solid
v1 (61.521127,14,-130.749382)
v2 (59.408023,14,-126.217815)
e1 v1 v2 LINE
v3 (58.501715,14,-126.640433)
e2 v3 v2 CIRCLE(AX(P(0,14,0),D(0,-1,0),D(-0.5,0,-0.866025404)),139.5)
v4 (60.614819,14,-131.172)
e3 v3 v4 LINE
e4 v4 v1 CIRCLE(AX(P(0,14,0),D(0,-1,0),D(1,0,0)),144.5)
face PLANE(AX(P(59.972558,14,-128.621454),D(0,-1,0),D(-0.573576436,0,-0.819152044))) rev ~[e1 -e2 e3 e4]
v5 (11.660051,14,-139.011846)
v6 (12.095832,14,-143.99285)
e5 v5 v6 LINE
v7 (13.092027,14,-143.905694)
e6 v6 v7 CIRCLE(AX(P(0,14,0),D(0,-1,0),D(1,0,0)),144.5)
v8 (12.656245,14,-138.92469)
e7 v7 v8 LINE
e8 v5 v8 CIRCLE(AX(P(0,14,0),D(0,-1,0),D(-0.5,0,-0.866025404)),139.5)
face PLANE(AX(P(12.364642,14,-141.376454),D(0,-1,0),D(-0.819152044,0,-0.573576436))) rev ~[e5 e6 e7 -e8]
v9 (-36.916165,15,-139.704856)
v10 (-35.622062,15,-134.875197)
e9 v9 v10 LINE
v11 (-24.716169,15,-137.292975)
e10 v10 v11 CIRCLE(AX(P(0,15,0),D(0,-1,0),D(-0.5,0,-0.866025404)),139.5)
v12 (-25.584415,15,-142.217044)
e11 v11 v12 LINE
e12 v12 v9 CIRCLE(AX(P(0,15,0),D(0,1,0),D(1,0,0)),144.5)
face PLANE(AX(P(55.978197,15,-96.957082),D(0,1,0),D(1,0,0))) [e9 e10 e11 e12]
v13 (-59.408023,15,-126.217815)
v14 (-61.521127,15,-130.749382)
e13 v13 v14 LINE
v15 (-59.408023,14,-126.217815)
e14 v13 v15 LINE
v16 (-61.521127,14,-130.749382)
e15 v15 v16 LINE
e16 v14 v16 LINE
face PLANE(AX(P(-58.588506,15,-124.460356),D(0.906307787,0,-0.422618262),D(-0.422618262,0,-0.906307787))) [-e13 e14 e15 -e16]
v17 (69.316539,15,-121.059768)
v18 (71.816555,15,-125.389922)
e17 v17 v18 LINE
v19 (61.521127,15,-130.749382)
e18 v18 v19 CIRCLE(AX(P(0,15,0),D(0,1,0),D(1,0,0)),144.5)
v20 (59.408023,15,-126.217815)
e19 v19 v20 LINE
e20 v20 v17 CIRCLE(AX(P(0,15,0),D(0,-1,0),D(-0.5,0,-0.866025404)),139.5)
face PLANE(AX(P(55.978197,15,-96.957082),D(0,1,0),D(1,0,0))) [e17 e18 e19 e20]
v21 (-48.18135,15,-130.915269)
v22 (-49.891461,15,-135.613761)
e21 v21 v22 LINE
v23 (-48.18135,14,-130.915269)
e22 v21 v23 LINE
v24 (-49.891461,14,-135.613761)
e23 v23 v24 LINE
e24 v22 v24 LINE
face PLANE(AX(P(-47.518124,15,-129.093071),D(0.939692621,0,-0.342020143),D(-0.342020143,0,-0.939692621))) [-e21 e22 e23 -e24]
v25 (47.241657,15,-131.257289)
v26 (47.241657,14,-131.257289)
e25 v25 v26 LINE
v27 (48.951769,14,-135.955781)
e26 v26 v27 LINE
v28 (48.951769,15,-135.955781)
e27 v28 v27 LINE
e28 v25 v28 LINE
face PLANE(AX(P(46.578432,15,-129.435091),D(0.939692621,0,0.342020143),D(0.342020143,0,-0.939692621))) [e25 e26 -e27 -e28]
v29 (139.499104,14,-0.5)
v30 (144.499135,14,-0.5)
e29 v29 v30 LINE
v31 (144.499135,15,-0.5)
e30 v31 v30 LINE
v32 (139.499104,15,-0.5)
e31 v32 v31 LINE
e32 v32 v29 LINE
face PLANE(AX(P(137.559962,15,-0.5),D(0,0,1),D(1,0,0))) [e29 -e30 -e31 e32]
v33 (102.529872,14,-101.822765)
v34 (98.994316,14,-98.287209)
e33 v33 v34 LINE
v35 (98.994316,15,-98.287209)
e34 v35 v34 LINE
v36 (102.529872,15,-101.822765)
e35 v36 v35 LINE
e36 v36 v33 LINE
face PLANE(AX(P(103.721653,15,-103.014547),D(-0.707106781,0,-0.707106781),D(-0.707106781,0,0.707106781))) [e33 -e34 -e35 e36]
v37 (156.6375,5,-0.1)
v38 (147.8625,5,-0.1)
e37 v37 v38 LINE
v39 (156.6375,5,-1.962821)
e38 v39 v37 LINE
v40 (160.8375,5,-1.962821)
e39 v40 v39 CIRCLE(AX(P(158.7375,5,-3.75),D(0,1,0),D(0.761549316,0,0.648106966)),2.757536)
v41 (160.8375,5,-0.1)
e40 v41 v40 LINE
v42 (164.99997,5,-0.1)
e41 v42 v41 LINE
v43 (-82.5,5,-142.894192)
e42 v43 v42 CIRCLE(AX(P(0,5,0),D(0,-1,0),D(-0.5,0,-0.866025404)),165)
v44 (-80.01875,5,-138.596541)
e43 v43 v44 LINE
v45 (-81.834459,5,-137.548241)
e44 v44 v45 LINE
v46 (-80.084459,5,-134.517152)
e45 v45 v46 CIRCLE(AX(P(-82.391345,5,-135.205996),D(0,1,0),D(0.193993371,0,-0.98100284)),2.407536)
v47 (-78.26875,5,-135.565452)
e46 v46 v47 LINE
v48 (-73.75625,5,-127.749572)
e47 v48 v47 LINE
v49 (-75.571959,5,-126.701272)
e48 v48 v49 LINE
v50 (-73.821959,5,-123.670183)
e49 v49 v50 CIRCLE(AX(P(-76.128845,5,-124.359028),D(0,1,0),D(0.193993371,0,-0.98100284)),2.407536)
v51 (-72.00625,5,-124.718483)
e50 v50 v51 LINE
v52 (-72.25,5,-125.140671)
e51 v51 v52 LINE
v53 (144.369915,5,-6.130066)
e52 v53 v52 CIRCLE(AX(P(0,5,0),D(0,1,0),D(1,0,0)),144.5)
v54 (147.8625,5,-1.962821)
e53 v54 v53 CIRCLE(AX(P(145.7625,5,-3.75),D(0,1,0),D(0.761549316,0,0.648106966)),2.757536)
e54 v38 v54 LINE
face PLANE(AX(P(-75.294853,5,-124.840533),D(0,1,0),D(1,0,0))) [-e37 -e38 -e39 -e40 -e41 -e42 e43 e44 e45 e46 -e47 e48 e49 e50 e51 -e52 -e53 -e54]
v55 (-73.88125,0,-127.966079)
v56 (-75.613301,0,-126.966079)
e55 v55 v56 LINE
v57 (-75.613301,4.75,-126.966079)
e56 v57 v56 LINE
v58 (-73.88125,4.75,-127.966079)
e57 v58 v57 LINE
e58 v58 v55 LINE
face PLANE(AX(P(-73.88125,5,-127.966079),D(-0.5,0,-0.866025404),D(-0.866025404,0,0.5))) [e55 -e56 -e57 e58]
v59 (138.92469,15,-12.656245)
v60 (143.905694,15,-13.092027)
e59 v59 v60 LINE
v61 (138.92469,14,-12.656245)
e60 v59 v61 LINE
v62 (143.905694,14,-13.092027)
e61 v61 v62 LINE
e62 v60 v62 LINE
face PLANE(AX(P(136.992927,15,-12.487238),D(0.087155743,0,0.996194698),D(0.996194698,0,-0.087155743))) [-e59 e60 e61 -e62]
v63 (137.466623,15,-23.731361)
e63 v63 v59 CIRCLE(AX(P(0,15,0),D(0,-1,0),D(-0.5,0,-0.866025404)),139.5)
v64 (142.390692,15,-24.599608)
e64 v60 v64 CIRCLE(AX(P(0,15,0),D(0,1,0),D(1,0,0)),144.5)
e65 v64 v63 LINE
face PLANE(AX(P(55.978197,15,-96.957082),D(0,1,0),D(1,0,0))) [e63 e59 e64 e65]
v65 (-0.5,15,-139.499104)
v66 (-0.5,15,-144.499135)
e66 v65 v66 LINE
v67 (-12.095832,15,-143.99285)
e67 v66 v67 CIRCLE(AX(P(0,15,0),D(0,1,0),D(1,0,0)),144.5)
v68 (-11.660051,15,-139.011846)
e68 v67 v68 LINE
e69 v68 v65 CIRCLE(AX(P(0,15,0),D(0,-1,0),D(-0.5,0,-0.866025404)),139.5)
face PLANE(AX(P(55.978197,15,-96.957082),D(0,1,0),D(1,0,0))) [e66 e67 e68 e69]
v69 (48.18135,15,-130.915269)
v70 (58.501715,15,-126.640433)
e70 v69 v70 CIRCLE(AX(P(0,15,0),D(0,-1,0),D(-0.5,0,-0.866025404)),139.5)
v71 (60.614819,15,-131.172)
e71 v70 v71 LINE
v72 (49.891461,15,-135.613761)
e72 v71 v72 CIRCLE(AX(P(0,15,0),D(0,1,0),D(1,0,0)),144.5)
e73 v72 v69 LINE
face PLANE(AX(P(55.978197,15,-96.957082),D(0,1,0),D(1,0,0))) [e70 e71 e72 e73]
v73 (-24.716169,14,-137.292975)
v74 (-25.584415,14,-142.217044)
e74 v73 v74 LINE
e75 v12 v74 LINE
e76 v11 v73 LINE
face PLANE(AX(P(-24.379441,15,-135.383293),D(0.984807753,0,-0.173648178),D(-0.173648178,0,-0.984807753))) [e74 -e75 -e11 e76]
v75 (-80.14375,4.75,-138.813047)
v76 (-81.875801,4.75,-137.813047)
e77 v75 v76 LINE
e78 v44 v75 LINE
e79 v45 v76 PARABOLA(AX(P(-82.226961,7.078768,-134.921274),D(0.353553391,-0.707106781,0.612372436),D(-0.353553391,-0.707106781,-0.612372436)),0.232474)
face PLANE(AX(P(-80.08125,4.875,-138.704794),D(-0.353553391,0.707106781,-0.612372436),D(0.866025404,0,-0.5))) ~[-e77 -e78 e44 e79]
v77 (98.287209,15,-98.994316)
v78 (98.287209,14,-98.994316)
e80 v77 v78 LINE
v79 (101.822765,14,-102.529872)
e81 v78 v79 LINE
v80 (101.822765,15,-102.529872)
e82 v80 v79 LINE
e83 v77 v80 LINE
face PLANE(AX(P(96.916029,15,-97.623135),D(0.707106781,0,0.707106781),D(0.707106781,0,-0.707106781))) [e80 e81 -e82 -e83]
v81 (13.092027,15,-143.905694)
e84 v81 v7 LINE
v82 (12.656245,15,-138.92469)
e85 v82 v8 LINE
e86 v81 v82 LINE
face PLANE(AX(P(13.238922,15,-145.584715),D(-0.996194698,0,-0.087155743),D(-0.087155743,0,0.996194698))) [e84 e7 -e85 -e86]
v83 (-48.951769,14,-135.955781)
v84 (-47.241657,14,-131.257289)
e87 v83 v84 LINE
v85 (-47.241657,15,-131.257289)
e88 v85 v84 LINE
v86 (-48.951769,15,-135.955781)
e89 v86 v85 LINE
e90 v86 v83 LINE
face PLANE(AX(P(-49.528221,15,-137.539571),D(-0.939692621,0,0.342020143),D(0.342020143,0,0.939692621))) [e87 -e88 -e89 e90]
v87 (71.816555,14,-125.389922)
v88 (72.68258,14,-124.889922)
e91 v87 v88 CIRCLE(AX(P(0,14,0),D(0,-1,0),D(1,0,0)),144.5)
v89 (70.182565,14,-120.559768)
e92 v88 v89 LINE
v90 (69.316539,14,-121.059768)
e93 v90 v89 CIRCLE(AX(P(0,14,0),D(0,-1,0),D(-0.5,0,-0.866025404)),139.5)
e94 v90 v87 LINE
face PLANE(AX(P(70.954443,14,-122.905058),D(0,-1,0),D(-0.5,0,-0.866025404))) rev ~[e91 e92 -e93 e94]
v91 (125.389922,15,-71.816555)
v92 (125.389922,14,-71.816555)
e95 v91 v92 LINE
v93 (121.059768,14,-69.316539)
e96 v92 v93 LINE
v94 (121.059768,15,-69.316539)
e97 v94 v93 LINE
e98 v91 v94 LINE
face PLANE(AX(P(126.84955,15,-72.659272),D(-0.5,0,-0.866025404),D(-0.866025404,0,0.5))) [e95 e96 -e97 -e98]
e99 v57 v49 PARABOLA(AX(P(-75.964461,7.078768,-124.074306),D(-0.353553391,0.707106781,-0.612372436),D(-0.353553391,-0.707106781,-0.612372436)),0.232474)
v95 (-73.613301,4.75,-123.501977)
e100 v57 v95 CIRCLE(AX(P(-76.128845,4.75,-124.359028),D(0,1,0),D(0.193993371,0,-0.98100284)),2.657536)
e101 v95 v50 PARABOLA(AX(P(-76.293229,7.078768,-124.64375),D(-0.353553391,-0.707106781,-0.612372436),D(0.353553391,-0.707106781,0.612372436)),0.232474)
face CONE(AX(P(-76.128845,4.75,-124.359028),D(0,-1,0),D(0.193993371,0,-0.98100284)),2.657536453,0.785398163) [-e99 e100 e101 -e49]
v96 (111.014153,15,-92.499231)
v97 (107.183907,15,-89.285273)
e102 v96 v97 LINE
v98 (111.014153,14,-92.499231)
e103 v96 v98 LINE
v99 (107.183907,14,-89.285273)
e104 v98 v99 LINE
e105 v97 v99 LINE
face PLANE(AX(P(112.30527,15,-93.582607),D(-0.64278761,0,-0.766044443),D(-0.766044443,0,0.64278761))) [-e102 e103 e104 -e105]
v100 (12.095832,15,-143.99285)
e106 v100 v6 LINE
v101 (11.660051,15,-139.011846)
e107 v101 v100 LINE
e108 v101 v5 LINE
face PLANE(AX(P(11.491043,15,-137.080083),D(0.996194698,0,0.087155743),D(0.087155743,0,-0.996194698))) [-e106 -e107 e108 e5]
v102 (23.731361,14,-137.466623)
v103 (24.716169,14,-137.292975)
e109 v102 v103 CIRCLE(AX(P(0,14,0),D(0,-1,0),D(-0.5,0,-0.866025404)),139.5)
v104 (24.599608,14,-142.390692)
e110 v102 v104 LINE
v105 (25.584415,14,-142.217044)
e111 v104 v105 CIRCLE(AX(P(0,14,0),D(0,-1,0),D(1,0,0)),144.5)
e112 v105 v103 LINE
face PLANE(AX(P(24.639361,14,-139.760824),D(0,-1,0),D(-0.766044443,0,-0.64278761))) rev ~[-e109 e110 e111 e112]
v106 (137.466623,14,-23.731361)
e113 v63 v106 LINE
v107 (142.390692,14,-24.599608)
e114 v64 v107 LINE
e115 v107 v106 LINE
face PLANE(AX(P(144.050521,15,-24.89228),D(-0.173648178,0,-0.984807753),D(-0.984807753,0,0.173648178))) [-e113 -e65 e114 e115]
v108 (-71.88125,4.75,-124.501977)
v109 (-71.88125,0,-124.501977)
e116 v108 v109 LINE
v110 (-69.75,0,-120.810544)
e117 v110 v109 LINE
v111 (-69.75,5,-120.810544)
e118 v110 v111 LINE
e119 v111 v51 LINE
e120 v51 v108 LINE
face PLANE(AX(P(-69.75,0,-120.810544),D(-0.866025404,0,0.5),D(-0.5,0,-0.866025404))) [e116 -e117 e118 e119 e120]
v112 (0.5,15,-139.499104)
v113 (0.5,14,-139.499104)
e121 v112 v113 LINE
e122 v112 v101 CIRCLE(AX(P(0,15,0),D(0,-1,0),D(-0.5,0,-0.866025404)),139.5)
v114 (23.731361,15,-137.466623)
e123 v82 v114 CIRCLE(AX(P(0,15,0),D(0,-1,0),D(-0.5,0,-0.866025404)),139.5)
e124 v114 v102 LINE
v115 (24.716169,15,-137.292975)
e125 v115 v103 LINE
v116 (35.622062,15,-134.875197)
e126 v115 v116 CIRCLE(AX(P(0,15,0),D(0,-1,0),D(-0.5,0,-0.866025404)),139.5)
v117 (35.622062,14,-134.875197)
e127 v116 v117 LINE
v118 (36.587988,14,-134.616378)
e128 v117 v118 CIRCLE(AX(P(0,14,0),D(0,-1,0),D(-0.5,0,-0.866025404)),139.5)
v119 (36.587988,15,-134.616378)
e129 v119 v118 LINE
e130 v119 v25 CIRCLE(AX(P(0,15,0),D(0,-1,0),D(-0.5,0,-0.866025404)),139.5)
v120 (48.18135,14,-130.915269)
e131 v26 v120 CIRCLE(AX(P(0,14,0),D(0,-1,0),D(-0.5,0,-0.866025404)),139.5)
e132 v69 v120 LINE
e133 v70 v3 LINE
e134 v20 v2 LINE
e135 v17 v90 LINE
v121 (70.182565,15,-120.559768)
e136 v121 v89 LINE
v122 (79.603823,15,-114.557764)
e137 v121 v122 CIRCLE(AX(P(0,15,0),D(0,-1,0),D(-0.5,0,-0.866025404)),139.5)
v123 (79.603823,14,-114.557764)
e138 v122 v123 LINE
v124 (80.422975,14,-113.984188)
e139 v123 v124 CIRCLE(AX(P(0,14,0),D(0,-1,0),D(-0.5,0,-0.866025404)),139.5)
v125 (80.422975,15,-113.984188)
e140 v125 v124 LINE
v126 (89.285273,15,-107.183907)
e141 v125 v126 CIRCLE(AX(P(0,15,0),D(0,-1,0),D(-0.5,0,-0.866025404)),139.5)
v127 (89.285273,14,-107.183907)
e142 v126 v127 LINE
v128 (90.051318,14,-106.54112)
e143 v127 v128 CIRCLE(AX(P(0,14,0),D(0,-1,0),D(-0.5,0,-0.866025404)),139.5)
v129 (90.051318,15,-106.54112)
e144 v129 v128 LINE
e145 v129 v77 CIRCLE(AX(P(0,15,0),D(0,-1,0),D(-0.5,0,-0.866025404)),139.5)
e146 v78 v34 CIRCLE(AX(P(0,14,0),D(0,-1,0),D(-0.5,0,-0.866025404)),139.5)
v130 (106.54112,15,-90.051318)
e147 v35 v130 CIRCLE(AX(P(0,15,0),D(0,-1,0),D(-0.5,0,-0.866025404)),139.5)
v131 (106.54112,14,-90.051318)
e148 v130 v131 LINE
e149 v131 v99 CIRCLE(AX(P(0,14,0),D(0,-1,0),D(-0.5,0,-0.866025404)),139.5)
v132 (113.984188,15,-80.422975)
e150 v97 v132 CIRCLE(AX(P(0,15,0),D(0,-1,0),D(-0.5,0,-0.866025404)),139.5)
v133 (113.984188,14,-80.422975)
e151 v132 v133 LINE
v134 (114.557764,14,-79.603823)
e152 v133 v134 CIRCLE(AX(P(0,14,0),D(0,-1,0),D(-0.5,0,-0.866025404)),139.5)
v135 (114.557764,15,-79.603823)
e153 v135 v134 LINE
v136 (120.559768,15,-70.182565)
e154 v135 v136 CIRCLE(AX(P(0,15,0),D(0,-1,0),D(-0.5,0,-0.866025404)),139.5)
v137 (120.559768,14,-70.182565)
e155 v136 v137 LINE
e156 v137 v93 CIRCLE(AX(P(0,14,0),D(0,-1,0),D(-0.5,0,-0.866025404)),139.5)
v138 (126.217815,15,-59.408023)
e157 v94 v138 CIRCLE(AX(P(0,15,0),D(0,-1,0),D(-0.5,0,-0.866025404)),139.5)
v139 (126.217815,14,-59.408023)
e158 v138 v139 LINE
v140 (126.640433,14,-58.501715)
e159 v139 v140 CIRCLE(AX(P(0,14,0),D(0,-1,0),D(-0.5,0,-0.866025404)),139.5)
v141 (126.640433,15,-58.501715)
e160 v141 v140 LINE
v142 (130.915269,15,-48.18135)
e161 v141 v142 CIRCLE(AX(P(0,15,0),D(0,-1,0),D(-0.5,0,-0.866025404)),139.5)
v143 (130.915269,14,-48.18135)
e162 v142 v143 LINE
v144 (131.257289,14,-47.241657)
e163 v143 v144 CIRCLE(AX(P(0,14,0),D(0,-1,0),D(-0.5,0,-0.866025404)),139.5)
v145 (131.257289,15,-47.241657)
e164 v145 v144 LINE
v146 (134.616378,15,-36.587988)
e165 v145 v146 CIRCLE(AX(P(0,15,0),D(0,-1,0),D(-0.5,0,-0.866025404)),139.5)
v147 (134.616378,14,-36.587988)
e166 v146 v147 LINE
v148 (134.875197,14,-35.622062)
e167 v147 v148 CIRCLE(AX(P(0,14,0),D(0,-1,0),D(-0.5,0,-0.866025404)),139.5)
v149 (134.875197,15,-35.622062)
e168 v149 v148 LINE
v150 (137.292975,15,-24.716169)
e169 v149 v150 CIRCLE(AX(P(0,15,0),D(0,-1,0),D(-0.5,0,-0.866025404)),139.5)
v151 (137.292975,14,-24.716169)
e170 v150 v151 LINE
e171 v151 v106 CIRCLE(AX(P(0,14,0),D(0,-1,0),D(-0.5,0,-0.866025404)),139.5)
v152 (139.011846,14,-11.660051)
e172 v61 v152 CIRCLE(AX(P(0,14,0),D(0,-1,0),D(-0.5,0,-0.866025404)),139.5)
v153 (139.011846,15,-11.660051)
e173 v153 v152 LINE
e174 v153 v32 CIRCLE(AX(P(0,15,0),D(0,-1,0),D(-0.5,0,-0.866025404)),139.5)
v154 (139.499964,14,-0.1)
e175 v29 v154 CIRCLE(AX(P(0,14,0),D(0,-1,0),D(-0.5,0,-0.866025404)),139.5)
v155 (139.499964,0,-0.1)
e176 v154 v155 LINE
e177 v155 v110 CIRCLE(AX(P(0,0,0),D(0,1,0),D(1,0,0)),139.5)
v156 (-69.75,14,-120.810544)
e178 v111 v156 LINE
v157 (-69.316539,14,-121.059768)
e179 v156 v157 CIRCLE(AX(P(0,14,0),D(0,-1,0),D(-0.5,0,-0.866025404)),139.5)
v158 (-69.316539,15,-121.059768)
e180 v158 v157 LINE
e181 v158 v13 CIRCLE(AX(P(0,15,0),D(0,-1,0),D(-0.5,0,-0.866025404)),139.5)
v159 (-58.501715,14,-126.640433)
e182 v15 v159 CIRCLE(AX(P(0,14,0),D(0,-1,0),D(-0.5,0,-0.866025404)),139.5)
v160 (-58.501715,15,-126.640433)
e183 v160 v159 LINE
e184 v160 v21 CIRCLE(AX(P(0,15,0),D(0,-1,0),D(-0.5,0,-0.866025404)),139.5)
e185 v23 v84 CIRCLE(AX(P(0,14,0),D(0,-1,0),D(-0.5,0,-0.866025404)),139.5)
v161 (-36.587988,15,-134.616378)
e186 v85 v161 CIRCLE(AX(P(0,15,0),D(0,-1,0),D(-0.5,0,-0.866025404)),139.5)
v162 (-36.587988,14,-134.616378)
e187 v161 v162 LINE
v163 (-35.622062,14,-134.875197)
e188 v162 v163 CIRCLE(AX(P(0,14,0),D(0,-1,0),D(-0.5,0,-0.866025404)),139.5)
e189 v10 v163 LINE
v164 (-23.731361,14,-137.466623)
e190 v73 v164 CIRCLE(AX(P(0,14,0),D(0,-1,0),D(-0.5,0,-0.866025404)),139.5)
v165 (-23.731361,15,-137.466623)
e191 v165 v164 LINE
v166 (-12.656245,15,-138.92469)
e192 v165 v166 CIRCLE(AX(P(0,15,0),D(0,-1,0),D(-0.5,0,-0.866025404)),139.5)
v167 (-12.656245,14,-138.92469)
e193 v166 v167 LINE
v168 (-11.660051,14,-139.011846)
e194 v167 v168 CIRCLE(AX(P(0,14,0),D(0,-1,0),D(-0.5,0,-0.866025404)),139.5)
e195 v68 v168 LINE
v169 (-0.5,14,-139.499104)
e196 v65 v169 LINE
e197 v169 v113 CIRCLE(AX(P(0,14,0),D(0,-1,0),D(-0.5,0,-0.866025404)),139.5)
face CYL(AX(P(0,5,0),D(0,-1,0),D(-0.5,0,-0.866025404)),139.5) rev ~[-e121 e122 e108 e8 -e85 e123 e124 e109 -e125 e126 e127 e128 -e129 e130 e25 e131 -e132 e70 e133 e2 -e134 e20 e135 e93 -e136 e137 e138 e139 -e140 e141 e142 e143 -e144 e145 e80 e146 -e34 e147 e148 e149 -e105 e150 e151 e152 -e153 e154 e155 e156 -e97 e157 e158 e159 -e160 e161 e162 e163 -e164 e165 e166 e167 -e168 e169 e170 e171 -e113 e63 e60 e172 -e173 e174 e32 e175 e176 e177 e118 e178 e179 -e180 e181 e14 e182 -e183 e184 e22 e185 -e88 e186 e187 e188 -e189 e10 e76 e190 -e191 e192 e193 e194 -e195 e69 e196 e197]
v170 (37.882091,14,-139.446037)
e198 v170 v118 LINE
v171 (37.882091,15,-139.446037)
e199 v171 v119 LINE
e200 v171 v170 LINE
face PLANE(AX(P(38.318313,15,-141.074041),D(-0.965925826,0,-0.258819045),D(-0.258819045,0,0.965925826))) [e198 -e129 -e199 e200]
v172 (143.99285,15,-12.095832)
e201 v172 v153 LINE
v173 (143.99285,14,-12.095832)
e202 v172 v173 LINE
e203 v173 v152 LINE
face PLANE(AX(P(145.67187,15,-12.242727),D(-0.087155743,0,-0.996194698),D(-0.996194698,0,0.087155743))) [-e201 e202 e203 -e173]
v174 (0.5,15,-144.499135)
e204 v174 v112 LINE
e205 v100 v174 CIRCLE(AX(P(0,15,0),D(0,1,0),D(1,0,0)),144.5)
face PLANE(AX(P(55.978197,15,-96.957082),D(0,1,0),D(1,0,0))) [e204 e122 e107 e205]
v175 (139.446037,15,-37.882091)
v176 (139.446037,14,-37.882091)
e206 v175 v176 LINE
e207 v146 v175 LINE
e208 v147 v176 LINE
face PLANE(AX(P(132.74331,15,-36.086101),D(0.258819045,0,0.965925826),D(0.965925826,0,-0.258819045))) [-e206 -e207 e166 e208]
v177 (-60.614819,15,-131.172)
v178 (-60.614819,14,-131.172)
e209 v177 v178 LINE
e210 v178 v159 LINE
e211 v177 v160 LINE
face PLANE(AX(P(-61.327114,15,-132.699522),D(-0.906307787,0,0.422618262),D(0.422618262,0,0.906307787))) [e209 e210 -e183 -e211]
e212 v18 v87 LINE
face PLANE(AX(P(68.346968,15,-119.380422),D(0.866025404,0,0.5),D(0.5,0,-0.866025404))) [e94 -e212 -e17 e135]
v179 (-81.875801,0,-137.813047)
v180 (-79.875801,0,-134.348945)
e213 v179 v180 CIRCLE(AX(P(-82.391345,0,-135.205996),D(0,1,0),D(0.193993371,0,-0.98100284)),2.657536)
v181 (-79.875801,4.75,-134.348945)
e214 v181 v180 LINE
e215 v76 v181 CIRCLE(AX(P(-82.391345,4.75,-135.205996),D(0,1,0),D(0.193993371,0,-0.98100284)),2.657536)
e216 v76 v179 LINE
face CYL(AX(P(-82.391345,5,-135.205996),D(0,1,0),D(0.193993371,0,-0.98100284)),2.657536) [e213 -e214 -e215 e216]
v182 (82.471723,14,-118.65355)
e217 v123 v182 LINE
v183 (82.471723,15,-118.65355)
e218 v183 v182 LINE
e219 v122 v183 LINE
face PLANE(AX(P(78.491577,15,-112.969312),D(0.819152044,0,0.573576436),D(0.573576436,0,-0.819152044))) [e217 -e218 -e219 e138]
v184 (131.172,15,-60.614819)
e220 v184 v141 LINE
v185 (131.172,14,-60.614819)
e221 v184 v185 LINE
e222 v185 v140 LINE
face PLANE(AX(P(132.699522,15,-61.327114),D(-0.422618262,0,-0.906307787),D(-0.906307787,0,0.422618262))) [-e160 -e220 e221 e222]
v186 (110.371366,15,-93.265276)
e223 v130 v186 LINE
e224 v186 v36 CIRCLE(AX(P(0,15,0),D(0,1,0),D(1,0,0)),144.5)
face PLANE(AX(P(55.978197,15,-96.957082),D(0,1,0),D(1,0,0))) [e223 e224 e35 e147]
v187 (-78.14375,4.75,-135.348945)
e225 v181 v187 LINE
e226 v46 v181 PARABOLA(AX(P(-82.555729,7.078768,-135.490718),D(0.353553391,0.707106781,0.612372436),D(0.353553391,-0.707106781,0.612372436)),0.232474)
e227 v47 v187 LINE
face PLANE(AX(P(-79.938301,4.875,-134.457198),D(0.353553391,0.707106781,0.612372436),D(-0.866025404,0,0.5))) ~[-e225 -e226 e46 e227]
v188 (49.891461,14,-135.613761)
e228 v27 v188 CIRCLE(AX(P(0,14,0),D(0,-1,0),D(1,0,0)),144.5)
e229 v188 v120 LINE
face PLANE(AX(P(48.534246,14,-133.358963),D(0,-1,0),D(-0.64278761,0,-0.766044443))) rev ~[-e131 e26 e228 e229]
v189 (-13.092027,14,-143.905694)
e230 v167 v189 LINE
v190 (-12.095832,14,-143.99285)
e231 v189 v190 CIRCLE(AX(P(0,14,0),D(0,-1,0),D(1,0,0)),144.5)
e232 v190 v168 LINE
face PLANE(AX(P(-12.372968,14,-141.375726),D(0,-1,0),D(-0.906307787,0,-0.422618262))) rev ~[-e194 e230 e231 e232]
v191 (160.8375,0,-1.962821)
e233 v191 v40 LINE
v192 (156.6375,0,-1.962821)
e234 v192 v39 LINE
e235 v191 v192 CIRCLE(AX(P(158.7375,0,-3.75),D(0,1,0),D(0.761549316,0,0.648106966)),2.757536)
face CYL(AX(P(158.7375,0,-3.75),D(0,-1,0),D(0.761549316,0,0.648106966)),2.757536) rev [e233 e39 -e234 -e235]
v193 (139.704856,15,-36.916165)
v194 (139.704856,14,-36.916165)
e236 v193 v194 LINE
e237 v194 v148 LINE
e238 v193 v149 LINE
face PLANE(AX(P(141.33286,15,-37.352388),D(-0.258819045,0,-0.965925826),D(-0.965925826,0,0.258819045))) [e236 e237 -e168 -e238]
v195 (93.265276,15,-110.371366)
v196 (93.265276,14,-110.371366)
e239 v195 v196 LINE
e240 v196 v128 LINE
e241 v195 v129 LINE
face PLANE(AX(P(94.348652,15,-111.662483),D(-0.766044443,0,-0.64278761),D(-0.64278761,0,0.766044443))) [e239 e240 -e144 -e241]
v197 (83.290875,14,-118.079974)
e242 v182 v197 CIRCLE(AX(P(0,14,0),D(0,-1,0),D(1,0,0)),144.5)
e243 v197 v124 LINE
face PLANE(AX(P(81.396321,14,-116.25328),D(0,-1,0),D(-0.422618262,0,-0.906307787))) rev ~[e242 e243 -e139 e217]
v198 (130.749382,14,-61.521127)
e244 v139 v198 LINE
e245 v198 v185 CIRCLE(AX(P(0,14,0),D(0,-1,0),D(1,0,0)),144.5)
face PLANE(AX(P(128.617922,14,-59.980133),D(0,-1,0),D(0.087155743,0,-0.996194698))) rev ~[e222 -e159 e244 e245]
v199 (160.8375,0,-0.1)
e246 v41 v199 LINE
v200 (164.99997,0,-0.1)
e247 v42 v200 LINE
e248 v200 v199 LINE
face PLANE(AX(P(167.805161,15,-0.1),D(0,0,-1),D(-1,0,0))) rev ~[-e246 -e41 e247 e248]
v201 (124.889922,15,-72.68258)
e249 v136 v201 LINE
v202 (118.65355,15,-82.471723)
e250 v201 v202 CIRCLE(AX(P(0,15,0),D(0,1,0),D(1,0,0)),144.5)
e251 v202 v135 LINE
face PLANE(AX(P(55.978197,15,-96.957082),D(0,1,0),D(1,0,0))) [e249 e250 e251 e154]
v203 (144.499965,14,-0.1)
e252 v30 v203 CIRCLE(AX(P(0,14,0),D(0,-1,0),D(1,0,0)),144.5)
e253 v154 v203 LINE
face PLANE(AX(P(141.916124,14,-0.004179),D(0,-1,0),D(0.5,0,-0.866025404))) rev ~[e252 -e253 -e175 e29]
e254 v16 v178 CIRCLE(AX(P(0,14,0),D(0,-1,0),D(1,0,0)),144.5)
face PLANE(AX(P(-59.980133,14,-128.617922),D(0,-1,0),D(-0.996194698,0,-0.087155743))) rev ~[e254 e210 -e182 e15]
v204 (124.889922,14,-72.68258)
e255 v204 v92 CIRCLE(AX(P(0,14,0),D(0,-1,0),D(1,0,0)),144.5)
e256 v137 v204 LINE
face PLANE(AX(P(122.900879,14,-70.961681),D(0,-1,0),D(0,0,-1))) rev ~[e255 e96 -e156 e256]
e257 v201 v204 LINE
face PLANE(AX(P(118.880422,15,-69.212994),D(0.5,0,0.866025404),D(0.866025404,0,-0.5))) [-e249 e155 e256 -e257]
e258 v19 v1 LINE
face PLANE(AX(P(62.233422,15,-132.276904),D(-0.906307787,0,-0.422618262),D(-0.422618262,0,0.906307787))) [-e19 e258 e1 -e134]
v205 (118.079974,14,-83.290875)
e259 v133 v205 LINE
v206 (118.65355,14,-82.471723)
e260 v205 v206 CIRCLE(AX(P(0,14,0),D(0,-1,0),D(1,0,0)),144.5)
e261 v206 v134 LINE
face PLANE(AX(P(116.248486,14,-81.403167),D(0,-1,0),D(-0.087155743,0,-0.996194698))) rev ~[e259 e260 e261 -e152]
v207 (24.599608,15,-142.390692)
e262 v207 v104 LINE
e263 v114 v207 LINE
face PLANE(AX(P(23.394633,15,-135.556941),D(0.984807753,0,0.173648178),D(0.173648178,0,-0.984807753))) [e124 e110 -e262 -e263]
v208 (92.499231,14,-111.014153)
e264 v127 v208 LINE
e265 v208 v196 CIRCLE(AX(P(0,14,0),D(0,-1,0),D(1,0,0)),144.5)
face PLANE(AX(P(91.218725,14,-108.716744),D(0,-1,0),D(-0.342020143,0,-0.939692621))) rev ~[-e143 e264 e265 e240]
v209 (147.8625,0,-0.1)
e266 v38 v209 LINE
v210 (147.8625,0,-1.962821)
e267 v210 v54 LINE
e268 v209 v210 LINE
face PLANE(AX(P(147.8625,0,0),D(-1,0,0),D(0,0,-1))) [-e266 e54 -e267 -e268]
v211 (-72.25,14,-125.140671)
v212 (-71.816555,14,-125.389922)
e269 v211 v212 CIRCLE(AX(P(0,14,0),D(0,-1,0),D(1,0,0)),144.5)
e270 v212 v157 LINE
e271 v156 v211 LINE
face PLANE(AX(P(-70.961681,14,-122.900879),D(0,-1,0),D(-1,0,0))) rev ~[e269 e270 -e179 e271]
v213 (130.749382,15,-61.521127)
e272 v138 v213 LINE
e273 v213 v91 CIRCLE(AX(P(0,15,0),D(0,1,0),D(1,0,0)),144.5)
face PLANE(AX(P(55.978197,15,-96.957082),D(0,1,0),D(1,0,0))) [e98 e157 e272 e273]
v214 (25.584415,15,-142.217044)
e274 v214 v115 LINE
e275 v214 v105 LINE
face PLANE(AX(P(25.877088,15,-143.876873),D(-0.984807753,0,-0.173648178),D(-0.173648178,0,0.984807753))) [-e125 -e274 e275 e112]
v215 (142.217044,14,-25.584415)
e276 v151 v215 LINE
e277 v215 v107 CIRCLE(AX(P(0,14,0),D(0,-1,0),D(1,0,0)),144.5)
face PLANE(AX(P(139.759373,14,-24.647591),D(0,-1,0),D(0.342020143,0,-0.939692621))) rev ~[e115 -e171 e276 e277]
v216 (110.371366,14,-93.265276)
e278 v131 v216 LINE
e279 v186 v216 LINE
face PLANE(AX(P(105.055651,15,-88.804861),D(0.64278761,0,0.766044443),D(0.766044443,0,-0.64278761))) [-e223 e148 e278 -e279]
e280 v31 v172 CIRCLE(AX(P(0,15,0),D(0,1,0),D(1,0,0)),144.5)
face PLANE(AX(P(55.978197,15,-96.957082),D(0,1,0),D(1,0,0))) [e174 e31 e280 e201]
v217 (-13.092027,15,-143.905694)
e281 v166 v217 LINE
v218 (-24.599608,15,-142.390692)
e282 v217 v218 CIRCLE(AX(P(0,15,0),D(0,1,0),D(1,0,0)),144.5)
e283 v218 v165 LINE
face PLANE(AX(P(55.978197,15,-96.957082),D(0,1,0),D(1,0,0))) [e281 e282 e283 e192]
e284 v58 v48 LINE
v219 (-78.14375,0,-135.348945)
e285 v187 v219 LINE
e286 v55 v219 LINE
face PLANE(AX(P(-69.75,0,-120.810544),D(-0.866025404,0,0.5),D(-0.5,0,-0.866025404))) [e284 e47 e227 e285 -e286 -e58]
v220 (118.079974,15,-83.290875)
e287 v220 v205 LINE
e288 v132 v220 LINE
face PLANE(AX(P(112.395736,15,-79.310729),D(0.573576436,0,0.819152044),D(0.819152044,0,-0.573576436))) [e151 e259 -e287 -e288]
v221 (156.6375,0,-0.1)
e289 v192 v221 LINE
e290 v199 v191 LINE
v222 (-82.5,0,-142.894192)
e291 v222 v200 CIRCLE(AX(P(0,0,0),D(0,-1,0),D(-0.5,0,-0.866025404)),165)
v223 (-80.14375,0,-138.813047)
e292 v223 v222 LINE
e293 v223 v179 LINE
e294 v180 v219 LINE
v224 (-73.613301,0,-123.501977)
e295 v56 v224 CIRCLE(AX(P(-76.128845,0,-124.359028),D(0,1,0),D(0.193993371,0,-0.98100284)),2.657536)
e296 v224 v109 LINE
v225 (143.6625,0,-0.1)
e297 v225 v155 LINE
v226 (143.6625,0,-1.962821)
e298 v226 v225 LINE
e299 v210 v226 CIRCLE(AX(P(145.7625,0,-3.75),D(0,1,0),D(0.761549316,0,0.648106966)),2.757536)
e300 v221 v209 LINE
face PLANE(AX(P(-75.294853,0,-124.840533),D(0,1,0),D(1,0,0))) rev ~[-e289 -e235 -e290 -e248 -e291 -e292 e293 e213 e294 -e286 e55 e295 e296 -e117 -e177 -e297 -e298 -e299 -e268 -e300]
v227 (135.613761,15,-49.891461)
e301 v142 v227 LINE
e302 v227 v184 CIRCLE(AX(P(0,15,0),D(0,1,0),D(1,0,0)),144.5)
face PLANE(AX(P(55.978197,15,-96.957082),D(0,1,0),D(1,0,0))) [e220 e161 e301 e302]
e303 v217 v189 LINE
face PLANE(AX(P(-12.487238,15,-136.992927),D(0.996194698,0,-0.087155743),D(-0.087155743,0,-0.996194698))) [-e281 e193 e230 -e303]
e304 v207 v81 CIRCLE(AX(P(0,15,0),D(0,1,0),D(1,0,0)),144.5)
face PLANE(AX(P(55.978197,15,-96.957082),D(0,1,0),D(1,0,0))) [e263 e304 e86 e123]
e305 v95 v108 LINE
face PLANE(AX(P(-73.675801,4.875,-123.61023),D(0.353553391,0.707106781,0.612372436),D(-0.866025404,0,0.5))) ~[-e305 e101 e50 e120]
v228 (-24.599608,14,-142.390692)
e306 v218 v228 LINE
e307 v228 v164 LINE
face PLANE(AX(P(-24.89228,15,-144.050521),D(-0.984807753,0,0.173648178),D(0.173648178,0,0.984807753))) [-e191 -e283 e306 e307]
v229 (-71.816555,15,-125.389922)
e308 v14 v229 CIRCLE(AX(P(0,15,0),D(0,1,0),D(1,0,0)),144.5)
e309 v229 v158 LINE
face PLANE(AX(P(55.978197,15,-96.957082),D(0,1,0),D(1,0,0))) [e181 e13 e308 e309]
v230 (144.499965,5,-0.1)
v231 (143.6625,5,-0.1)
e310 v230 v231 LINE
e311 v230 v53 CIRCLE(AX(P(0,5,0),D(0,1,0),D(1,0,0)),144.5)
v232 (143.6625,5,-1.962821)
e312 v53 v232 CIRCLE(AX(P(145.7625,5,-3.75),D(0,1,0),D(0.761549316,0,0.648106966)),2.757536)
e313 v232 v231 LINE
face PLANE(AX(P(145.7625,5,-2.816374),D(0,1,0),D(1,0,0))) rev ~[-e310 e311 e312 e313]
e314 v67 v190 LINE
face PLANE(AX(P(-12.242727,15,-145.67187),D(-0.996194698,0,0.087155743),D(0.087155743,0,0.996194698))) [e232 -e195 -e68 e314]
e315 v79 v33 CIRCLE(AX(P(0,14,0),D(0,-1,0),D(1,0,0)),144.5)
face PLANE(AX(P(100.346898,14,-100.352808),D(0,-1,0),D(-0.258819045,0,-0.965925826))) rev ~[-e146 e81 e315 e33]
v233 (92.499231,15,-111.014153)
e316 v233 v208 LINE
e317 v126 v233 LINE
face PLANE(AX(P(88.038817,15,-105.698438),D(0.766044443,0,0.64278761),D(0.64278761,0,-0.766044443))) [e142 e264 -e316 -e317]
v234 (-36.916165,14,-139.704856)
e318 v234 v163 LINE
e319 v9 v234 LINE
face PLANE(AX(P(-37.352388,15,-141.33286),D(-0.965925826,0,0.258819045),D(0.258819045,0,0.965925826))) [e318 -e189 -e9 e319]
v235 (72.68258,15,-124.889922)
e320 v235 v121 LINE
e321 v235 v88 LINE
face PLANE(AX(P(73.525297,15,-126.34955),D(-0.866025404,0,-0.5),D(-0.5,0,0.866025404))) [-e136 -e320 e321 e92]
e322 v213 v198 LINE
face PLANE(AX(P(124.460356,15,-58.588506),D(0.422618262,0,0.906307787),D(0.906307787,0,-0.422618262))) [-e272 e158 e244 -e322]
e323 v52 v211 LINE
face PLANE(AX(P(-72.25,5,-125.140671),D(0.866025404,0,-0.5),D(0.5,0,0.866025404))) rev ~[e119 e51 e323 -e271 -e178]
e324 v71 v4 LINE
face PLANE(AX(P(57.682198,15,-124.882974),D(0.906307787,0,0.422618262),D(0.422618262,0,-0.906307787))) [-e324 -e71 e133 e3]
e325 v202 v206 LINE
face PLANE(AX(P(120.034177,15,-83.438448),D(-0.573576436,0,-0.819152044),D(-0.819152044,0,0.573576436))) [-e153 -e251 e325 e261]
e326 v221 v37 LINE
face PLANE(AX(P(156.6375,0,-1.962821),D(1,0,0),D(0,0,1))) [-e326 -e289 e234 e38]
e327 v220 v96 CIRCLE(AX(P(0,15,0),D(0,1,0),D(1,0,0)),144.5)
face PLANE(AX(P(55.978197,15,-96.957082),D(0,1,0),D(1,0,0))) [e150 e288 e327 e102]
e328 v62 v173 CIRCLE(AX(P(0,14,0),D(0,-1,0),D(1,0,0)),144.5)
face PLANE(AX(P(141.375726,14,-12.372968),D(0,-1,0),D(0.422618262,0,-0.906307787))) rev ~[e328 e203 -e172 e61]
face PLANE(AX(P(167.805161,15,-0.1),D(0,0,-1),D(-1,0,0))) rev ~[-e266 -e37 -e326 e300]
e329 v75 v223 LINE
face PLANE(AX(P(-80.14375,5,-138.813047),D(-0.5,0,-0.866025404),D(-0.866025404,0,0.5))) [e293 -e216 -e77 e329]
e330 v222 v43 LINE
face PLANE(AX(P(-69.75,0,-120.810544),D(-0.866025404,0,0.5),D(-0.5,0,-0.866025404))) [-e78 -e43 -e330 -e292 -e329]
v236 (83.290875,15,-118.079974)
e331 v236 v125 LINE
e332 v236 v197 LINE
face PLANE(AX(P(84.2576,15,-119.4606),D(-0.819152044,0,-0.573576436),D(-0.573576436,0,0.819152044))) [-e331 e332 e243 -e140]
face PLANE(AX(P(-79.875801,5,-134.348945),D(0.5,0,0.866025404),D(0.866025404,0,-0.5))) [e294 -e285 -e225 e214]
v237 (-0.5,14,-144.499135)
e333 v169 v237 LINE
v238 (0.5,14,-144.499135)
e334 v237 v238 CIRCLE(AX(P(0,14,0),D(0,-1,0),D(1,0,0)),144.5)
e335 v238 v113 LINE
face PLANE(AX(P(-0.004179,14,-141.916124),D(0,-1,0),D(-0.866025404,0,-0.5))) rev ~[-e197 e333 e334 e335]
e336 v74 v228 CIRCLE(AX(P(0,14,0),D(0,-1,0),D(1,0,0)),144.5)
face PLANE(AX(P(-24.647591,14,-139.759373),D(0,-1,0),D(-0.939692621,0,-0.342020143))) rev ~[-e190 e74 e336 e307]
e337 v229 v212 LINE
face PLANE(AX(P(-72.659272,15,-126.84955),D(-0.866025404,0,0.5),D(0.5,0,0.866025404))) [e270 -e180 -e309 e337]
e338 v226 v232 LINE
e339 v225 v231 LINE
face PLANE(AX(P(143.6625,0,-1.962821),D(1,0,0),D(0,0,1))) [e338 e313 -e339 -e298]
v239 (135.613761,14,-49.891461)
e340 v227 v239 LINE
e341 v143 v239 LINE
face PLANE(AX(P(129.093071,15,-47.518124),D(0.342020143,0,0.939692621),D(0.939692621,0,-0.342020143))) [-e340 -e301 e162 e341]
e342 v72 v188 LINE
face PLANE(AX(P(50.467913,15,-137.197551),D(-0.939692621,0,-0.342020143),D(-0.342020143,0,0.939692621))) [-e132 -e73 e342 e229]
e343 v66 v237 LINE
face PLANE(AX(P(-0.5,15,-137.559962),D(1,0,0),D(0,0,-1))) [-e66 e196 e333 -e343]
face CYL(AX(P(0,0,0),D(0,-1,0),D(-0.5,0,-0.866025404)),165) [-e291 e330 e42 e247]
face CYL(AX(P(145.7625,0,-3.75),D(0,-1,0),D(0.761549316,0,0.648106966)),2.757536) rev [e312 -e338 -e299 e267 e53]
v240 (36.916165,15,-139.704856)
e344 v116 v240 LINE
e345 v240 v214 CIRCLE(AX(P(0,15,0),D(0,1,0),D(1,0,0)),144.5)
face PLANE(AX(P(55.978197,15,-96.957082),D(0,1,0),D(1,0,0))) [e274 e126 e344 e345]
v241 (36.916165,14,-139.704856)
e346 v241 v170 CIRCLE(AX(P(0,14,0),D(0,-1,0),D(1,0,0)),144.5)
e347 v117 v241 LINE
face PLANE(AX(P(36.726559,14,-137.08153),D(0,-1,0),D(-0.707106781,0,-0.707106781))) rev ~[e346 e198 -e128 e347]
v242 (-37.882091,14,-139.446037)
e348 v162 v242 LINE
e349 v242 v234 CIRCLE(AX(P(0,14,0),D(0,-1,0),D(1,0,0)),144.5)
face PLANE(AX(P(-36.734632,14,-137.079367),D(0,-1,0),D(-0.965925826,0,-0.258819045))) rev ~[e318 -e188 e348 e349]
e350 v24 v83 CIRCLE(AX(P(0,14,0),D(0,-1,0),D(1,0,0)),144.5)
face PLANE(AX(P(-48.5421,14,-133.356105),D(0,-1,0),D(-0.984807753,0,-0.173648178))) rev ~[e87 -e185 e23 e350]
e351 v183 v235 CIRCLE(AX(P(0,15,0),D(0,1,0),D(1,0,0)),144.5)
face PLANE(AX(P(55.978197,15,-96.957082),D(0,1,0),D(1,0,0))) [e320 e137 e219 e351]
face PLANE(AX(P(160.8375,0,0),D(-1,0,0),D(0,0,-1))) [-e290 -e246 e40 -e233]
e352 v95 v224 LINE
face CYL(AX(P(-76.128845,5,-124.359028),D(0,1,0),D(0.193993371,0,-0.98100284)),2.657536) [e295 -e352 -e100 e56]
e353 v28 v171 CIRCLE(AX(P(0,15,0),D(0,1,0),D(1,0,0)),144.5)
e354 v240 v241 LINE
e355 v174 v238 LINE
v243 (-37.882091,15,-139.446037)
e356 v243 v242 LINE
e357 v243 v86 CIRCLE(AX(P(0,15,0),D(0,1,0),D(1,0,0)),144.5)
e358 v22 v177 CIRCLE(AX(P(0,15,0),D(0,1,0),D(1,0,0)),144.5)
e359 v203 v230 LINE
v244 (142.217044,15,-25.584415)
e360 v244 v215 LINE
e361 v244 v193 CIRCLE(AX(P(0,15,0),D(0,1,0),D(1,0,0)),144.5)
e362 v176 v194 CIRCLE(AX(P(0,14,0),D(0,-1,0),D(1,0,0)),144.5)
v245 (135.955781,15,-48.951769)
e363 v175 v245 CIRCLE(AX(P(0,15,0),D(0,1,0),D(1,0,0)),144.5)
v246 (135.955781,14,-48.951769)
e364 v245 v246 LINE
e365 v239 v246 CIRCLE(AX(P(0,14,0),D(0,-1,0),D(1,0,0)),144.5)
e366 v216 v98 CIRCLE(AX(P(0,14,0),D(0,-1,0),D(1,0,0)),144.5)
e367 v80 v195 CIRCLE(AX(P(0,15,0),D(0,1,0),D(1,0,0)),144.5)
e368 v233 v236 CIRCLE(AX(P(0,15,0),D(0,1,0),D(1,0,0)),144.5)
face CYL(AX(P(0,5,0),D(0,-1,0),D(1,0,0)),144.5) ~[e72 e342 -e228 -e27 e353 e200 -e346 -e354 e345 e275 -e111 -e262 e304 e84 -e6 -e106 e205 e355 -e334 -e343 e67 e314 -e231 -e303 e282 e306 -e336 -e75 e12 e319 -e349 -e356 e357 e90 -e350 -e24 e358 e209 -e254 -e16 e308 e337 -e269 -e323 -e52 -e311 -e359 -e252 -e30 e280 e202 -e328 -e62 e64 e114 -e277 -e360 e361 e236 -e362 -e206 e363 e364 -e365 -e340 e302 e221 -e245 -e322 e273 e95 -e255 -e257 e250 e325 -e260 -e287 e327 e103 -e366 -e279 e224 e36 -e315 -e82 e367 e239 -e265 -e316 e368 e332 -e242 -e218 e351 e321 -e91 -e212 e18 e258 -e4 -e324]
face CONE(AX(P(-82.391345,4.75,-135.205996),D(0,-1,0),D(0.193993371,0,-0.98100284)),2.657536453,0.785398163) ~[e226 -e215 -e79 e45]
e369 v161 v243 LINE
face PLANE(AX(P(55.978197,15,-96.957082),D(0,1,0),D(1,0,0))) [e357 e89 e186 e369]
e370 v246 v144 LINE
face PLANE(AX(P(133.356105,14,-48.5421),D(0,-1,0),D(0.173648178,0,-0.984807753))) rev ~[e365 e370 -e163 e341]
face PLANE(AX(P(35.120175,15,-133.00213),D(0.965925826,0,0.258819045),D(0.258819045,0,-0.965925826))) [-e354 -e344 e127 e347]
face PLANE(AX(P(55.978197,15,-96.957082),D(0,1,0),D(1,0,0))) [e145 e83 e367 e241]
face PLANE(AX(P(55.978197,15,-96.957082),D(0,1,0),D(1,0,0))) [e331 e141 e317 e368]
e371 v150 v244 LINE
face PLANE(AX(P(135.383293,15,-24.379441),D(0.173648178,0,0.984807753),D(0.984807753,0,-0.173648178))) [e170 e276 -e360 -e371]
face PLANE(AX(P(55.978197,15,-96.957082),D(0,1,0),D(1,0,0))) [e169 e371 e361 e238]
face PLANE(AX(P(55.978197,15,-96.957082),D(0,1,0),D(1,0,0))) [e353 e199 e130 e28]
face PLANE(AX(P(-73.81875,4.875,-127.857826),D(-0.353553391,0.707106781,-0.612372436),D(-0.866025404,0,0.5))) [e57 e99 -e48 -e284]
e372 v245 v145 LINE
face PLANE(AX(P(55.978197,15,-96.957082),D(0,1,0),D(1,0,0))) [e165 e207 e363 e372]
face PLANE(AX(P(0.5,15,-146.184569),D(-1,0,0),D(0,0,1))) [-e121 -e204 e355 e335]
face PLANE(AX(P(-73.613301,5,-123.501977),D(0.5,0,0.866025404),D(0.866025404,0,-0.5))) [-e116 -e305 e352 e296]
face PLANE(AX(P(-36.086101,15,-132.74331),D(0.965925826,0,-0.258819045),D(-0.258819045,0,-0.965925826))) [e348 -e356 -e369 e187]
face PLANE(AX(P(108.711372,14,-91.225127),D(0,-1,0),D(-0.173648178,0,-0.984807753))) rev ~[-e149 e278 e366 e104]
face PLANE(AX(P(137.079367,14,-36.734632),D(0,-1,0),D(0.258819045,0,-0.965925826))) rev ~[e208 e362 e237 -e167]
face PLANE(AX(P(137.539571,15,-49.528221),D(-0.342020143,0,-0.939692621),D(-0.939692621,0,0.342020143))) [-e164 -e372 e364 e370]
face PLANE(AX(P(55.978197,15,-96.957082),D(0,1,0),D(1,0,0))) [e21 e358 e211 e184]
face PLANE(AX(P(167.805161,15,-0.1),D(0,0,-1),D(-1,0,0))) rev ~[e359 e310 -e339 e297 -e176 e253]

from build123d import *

# Parameters (mm, degrees)
BOSS_EXTRUDE1_DEPTH = 5
BOSS_EXTRUDE2_DEPTH = 10
BOSS_EXTRUDE3_DEPTH = 5
CUT_EXTRUDE1_DEPTH  = 5
CUT_EXTRUDE2_DEPTH  = 1
CIRPATTERN1_COUNT   = 25
CIRPATTERN1_ANGLE   = 120
CUT_EXTRUDE3_DEPTH  = 16
CHAMFER1_SIZE       = 0.25


with BuildPart() as part:
    # Sketch1 → Boss-Extrude1 (new body)
    with BuildSketch(Plane(origin=(0, 0, 0), x_dir=(1, 0, 0), z_dir=(0, 1, 0))):
        with BuildLine():
            Line((-69.75, 120.810543828), (-82.5, 142.894191624))
            ThreePointArc((-82.5, 142.894191624), (82.5, 142.894191624), (165, 0))
            Line((165, 0), (139.5, 0))
            ThreePointArc((139.5, 0), (69.75, 120.810543828), (-69.75, 120.810543828))
        make_face()
    extrude(amount=BOSS_EXTRUDE1_DEPTH)

    # Sketch2 → Boss-Extrude2 (add)
    with BuildSketch(Plane(origin=(0, 5, 0), x_dir=(1, 0, 0), z_dir=(0, 1, 0))):
        with BuildLine():
            Line((-72.25, 125.140670847), (-69.75, 120.810543828))
            ThreePointArc((-69.75, 120.810543828), (69.75, 120.810543828), (139.5, 0))
            Line((139.5, 0), (144.5, 0))
            ThreePointArc((144.5, 0), (72.25, 125.140670847), (-72.25, 125.140670847))
        make_face()
    extrude(amount=BOSS_EXTRUDE2_DEPTH)

    # Sketch3 → Boss-Extrude3 (add)
    with BuildSketch(Plane(origin=(0, 5, 0), x_dir=(1, 0, 0), z_dir=(0, 1, 0))):
        with BuildLine():
            Line((-71.88125, 124.501977112), (-73.88125, 127.966078727))
            Line((-73.88125, 127.966078727), (-75.613300808, 126.966078727))
            ThreePointArc((-75.613300808, 126.966078727), (-78.430339344, 123.030259693), (-73.613300808, 123.501977112))
            Line((-73.613300808, 123.501977112), (-71.88125, 124.501977112))
        make_face()
        with BuildLine():
            Line((-78.14375, 135.348945294), (-80.14375, 138.813046909))
            Line((-80.14375, 138.813046909), (-81.875800808, 137.813046909))
            ThreePointArc((-81.875800808, 137.813046909), (-84.692839344, 133.877227875), (-79.875800808, 134.348945294))
            Line((-79.875800808, 134.348945294), (-78.14375, 135.348945294))
        make_face()
    extrude(amount=-BOSS_EXTRUDE3_DEPTH)

    # Sketch4 → Cut-Extrude1 (cut)
    with BuildSketch(Plane(origin=(0, 0, 0), x_dir=(1, 0, 0), z_dir=(0, 1, 0))):
        with BuildLine():
            Line((156.6375, 1.962821416), (156.6375, 0))
            Line((156.6375, 0), (160.8375, 0))
            Line((160.8375, 0), (160.8375, 1.962821416))
            ThreePointArc((160.8375, 1.962821416), (158.7375, 6.507536453), (156.6375, 1.962821416))
        make_face()
        with BuildLine():
            Line((143.6625, 1.962821416), (143.6625, 0))
            Line((143.6625, 0), (147.8625, 0))
            Line((147.8625, 0), (147.8625, 1.962821416))
            ThreePointArc((147.8625, 1.962821416), (145.7625, 6.507536453), (143.6625, 1.962821416))
        make_face()
    extrude(amount=CUT_EXTRUDE1_DEPTH, mode=Mode.SUBTRACT)

    # Sketch5 → Cut-Extrude2 (cut)
    with BuildSketch(Plane(origin=(0, 15, 0), x_dir=(1, 0, 0), z_dir=(0, 1, 0))):
        Polygon((-72.659271704, 126.849550232), (-68.346968319, 119.380421672), (-69.212993723, 118.880421672), (-73.606467483, 126.490141447), align=None)
    cut_extrude2 = extrude(amount=-CUT_EXTRUDE2_DEPTH, mode=Mode.SUBTRACT)

    # CirPattern1: Cut-Extrude2 ×25 about axis
    cirpattern1_axis = Axis((0, 0, 0), (0, -1, 0))
    for i in range(1, CIRPATTERN1_COUNT):
        add(cut_extrude2.rotate(cirpattern1_axis, i * CIRPATTERN1_ANGLE / (CIRPATTERN1_COUNT - 1)), mode=Mode.SUBTRACT)

    # Sketch6 → Cut-Extrude3 (cut, through all)
    with BuildSketch(Plane(origin=(0, 15, 0), x_dir=(1, 0, 0), z_dir=(0, 1, 0))):
        Polygon((134.134253662, 0), (167.805161023, 0), (167.805161023, 0.1), (133.91215317, 0.1), align=None)
    extrude(amount=-CUT_EXTRUDE3_DEPTH, mode=Mode.SUBTRACT)

    # Chamfer1
    chamfer1_edges = [part.edges().sort_by_distance(p)[0] for p in [
        (-81.009775404, 5, -138.313046909),
        (-84.692839344, 5, -133.877227875),
        (-79.009775404, 5, -134.848945294),
        (-74.747275404, 5, -127.466078727),
        (-78.430339344, 5, -123.030259693),
        (-72.747275404, 5, -124.001977112),
    ]]
    chamfer(chamfer1_edges, length=CHAMFER1_SIZE)


solid = part.part
